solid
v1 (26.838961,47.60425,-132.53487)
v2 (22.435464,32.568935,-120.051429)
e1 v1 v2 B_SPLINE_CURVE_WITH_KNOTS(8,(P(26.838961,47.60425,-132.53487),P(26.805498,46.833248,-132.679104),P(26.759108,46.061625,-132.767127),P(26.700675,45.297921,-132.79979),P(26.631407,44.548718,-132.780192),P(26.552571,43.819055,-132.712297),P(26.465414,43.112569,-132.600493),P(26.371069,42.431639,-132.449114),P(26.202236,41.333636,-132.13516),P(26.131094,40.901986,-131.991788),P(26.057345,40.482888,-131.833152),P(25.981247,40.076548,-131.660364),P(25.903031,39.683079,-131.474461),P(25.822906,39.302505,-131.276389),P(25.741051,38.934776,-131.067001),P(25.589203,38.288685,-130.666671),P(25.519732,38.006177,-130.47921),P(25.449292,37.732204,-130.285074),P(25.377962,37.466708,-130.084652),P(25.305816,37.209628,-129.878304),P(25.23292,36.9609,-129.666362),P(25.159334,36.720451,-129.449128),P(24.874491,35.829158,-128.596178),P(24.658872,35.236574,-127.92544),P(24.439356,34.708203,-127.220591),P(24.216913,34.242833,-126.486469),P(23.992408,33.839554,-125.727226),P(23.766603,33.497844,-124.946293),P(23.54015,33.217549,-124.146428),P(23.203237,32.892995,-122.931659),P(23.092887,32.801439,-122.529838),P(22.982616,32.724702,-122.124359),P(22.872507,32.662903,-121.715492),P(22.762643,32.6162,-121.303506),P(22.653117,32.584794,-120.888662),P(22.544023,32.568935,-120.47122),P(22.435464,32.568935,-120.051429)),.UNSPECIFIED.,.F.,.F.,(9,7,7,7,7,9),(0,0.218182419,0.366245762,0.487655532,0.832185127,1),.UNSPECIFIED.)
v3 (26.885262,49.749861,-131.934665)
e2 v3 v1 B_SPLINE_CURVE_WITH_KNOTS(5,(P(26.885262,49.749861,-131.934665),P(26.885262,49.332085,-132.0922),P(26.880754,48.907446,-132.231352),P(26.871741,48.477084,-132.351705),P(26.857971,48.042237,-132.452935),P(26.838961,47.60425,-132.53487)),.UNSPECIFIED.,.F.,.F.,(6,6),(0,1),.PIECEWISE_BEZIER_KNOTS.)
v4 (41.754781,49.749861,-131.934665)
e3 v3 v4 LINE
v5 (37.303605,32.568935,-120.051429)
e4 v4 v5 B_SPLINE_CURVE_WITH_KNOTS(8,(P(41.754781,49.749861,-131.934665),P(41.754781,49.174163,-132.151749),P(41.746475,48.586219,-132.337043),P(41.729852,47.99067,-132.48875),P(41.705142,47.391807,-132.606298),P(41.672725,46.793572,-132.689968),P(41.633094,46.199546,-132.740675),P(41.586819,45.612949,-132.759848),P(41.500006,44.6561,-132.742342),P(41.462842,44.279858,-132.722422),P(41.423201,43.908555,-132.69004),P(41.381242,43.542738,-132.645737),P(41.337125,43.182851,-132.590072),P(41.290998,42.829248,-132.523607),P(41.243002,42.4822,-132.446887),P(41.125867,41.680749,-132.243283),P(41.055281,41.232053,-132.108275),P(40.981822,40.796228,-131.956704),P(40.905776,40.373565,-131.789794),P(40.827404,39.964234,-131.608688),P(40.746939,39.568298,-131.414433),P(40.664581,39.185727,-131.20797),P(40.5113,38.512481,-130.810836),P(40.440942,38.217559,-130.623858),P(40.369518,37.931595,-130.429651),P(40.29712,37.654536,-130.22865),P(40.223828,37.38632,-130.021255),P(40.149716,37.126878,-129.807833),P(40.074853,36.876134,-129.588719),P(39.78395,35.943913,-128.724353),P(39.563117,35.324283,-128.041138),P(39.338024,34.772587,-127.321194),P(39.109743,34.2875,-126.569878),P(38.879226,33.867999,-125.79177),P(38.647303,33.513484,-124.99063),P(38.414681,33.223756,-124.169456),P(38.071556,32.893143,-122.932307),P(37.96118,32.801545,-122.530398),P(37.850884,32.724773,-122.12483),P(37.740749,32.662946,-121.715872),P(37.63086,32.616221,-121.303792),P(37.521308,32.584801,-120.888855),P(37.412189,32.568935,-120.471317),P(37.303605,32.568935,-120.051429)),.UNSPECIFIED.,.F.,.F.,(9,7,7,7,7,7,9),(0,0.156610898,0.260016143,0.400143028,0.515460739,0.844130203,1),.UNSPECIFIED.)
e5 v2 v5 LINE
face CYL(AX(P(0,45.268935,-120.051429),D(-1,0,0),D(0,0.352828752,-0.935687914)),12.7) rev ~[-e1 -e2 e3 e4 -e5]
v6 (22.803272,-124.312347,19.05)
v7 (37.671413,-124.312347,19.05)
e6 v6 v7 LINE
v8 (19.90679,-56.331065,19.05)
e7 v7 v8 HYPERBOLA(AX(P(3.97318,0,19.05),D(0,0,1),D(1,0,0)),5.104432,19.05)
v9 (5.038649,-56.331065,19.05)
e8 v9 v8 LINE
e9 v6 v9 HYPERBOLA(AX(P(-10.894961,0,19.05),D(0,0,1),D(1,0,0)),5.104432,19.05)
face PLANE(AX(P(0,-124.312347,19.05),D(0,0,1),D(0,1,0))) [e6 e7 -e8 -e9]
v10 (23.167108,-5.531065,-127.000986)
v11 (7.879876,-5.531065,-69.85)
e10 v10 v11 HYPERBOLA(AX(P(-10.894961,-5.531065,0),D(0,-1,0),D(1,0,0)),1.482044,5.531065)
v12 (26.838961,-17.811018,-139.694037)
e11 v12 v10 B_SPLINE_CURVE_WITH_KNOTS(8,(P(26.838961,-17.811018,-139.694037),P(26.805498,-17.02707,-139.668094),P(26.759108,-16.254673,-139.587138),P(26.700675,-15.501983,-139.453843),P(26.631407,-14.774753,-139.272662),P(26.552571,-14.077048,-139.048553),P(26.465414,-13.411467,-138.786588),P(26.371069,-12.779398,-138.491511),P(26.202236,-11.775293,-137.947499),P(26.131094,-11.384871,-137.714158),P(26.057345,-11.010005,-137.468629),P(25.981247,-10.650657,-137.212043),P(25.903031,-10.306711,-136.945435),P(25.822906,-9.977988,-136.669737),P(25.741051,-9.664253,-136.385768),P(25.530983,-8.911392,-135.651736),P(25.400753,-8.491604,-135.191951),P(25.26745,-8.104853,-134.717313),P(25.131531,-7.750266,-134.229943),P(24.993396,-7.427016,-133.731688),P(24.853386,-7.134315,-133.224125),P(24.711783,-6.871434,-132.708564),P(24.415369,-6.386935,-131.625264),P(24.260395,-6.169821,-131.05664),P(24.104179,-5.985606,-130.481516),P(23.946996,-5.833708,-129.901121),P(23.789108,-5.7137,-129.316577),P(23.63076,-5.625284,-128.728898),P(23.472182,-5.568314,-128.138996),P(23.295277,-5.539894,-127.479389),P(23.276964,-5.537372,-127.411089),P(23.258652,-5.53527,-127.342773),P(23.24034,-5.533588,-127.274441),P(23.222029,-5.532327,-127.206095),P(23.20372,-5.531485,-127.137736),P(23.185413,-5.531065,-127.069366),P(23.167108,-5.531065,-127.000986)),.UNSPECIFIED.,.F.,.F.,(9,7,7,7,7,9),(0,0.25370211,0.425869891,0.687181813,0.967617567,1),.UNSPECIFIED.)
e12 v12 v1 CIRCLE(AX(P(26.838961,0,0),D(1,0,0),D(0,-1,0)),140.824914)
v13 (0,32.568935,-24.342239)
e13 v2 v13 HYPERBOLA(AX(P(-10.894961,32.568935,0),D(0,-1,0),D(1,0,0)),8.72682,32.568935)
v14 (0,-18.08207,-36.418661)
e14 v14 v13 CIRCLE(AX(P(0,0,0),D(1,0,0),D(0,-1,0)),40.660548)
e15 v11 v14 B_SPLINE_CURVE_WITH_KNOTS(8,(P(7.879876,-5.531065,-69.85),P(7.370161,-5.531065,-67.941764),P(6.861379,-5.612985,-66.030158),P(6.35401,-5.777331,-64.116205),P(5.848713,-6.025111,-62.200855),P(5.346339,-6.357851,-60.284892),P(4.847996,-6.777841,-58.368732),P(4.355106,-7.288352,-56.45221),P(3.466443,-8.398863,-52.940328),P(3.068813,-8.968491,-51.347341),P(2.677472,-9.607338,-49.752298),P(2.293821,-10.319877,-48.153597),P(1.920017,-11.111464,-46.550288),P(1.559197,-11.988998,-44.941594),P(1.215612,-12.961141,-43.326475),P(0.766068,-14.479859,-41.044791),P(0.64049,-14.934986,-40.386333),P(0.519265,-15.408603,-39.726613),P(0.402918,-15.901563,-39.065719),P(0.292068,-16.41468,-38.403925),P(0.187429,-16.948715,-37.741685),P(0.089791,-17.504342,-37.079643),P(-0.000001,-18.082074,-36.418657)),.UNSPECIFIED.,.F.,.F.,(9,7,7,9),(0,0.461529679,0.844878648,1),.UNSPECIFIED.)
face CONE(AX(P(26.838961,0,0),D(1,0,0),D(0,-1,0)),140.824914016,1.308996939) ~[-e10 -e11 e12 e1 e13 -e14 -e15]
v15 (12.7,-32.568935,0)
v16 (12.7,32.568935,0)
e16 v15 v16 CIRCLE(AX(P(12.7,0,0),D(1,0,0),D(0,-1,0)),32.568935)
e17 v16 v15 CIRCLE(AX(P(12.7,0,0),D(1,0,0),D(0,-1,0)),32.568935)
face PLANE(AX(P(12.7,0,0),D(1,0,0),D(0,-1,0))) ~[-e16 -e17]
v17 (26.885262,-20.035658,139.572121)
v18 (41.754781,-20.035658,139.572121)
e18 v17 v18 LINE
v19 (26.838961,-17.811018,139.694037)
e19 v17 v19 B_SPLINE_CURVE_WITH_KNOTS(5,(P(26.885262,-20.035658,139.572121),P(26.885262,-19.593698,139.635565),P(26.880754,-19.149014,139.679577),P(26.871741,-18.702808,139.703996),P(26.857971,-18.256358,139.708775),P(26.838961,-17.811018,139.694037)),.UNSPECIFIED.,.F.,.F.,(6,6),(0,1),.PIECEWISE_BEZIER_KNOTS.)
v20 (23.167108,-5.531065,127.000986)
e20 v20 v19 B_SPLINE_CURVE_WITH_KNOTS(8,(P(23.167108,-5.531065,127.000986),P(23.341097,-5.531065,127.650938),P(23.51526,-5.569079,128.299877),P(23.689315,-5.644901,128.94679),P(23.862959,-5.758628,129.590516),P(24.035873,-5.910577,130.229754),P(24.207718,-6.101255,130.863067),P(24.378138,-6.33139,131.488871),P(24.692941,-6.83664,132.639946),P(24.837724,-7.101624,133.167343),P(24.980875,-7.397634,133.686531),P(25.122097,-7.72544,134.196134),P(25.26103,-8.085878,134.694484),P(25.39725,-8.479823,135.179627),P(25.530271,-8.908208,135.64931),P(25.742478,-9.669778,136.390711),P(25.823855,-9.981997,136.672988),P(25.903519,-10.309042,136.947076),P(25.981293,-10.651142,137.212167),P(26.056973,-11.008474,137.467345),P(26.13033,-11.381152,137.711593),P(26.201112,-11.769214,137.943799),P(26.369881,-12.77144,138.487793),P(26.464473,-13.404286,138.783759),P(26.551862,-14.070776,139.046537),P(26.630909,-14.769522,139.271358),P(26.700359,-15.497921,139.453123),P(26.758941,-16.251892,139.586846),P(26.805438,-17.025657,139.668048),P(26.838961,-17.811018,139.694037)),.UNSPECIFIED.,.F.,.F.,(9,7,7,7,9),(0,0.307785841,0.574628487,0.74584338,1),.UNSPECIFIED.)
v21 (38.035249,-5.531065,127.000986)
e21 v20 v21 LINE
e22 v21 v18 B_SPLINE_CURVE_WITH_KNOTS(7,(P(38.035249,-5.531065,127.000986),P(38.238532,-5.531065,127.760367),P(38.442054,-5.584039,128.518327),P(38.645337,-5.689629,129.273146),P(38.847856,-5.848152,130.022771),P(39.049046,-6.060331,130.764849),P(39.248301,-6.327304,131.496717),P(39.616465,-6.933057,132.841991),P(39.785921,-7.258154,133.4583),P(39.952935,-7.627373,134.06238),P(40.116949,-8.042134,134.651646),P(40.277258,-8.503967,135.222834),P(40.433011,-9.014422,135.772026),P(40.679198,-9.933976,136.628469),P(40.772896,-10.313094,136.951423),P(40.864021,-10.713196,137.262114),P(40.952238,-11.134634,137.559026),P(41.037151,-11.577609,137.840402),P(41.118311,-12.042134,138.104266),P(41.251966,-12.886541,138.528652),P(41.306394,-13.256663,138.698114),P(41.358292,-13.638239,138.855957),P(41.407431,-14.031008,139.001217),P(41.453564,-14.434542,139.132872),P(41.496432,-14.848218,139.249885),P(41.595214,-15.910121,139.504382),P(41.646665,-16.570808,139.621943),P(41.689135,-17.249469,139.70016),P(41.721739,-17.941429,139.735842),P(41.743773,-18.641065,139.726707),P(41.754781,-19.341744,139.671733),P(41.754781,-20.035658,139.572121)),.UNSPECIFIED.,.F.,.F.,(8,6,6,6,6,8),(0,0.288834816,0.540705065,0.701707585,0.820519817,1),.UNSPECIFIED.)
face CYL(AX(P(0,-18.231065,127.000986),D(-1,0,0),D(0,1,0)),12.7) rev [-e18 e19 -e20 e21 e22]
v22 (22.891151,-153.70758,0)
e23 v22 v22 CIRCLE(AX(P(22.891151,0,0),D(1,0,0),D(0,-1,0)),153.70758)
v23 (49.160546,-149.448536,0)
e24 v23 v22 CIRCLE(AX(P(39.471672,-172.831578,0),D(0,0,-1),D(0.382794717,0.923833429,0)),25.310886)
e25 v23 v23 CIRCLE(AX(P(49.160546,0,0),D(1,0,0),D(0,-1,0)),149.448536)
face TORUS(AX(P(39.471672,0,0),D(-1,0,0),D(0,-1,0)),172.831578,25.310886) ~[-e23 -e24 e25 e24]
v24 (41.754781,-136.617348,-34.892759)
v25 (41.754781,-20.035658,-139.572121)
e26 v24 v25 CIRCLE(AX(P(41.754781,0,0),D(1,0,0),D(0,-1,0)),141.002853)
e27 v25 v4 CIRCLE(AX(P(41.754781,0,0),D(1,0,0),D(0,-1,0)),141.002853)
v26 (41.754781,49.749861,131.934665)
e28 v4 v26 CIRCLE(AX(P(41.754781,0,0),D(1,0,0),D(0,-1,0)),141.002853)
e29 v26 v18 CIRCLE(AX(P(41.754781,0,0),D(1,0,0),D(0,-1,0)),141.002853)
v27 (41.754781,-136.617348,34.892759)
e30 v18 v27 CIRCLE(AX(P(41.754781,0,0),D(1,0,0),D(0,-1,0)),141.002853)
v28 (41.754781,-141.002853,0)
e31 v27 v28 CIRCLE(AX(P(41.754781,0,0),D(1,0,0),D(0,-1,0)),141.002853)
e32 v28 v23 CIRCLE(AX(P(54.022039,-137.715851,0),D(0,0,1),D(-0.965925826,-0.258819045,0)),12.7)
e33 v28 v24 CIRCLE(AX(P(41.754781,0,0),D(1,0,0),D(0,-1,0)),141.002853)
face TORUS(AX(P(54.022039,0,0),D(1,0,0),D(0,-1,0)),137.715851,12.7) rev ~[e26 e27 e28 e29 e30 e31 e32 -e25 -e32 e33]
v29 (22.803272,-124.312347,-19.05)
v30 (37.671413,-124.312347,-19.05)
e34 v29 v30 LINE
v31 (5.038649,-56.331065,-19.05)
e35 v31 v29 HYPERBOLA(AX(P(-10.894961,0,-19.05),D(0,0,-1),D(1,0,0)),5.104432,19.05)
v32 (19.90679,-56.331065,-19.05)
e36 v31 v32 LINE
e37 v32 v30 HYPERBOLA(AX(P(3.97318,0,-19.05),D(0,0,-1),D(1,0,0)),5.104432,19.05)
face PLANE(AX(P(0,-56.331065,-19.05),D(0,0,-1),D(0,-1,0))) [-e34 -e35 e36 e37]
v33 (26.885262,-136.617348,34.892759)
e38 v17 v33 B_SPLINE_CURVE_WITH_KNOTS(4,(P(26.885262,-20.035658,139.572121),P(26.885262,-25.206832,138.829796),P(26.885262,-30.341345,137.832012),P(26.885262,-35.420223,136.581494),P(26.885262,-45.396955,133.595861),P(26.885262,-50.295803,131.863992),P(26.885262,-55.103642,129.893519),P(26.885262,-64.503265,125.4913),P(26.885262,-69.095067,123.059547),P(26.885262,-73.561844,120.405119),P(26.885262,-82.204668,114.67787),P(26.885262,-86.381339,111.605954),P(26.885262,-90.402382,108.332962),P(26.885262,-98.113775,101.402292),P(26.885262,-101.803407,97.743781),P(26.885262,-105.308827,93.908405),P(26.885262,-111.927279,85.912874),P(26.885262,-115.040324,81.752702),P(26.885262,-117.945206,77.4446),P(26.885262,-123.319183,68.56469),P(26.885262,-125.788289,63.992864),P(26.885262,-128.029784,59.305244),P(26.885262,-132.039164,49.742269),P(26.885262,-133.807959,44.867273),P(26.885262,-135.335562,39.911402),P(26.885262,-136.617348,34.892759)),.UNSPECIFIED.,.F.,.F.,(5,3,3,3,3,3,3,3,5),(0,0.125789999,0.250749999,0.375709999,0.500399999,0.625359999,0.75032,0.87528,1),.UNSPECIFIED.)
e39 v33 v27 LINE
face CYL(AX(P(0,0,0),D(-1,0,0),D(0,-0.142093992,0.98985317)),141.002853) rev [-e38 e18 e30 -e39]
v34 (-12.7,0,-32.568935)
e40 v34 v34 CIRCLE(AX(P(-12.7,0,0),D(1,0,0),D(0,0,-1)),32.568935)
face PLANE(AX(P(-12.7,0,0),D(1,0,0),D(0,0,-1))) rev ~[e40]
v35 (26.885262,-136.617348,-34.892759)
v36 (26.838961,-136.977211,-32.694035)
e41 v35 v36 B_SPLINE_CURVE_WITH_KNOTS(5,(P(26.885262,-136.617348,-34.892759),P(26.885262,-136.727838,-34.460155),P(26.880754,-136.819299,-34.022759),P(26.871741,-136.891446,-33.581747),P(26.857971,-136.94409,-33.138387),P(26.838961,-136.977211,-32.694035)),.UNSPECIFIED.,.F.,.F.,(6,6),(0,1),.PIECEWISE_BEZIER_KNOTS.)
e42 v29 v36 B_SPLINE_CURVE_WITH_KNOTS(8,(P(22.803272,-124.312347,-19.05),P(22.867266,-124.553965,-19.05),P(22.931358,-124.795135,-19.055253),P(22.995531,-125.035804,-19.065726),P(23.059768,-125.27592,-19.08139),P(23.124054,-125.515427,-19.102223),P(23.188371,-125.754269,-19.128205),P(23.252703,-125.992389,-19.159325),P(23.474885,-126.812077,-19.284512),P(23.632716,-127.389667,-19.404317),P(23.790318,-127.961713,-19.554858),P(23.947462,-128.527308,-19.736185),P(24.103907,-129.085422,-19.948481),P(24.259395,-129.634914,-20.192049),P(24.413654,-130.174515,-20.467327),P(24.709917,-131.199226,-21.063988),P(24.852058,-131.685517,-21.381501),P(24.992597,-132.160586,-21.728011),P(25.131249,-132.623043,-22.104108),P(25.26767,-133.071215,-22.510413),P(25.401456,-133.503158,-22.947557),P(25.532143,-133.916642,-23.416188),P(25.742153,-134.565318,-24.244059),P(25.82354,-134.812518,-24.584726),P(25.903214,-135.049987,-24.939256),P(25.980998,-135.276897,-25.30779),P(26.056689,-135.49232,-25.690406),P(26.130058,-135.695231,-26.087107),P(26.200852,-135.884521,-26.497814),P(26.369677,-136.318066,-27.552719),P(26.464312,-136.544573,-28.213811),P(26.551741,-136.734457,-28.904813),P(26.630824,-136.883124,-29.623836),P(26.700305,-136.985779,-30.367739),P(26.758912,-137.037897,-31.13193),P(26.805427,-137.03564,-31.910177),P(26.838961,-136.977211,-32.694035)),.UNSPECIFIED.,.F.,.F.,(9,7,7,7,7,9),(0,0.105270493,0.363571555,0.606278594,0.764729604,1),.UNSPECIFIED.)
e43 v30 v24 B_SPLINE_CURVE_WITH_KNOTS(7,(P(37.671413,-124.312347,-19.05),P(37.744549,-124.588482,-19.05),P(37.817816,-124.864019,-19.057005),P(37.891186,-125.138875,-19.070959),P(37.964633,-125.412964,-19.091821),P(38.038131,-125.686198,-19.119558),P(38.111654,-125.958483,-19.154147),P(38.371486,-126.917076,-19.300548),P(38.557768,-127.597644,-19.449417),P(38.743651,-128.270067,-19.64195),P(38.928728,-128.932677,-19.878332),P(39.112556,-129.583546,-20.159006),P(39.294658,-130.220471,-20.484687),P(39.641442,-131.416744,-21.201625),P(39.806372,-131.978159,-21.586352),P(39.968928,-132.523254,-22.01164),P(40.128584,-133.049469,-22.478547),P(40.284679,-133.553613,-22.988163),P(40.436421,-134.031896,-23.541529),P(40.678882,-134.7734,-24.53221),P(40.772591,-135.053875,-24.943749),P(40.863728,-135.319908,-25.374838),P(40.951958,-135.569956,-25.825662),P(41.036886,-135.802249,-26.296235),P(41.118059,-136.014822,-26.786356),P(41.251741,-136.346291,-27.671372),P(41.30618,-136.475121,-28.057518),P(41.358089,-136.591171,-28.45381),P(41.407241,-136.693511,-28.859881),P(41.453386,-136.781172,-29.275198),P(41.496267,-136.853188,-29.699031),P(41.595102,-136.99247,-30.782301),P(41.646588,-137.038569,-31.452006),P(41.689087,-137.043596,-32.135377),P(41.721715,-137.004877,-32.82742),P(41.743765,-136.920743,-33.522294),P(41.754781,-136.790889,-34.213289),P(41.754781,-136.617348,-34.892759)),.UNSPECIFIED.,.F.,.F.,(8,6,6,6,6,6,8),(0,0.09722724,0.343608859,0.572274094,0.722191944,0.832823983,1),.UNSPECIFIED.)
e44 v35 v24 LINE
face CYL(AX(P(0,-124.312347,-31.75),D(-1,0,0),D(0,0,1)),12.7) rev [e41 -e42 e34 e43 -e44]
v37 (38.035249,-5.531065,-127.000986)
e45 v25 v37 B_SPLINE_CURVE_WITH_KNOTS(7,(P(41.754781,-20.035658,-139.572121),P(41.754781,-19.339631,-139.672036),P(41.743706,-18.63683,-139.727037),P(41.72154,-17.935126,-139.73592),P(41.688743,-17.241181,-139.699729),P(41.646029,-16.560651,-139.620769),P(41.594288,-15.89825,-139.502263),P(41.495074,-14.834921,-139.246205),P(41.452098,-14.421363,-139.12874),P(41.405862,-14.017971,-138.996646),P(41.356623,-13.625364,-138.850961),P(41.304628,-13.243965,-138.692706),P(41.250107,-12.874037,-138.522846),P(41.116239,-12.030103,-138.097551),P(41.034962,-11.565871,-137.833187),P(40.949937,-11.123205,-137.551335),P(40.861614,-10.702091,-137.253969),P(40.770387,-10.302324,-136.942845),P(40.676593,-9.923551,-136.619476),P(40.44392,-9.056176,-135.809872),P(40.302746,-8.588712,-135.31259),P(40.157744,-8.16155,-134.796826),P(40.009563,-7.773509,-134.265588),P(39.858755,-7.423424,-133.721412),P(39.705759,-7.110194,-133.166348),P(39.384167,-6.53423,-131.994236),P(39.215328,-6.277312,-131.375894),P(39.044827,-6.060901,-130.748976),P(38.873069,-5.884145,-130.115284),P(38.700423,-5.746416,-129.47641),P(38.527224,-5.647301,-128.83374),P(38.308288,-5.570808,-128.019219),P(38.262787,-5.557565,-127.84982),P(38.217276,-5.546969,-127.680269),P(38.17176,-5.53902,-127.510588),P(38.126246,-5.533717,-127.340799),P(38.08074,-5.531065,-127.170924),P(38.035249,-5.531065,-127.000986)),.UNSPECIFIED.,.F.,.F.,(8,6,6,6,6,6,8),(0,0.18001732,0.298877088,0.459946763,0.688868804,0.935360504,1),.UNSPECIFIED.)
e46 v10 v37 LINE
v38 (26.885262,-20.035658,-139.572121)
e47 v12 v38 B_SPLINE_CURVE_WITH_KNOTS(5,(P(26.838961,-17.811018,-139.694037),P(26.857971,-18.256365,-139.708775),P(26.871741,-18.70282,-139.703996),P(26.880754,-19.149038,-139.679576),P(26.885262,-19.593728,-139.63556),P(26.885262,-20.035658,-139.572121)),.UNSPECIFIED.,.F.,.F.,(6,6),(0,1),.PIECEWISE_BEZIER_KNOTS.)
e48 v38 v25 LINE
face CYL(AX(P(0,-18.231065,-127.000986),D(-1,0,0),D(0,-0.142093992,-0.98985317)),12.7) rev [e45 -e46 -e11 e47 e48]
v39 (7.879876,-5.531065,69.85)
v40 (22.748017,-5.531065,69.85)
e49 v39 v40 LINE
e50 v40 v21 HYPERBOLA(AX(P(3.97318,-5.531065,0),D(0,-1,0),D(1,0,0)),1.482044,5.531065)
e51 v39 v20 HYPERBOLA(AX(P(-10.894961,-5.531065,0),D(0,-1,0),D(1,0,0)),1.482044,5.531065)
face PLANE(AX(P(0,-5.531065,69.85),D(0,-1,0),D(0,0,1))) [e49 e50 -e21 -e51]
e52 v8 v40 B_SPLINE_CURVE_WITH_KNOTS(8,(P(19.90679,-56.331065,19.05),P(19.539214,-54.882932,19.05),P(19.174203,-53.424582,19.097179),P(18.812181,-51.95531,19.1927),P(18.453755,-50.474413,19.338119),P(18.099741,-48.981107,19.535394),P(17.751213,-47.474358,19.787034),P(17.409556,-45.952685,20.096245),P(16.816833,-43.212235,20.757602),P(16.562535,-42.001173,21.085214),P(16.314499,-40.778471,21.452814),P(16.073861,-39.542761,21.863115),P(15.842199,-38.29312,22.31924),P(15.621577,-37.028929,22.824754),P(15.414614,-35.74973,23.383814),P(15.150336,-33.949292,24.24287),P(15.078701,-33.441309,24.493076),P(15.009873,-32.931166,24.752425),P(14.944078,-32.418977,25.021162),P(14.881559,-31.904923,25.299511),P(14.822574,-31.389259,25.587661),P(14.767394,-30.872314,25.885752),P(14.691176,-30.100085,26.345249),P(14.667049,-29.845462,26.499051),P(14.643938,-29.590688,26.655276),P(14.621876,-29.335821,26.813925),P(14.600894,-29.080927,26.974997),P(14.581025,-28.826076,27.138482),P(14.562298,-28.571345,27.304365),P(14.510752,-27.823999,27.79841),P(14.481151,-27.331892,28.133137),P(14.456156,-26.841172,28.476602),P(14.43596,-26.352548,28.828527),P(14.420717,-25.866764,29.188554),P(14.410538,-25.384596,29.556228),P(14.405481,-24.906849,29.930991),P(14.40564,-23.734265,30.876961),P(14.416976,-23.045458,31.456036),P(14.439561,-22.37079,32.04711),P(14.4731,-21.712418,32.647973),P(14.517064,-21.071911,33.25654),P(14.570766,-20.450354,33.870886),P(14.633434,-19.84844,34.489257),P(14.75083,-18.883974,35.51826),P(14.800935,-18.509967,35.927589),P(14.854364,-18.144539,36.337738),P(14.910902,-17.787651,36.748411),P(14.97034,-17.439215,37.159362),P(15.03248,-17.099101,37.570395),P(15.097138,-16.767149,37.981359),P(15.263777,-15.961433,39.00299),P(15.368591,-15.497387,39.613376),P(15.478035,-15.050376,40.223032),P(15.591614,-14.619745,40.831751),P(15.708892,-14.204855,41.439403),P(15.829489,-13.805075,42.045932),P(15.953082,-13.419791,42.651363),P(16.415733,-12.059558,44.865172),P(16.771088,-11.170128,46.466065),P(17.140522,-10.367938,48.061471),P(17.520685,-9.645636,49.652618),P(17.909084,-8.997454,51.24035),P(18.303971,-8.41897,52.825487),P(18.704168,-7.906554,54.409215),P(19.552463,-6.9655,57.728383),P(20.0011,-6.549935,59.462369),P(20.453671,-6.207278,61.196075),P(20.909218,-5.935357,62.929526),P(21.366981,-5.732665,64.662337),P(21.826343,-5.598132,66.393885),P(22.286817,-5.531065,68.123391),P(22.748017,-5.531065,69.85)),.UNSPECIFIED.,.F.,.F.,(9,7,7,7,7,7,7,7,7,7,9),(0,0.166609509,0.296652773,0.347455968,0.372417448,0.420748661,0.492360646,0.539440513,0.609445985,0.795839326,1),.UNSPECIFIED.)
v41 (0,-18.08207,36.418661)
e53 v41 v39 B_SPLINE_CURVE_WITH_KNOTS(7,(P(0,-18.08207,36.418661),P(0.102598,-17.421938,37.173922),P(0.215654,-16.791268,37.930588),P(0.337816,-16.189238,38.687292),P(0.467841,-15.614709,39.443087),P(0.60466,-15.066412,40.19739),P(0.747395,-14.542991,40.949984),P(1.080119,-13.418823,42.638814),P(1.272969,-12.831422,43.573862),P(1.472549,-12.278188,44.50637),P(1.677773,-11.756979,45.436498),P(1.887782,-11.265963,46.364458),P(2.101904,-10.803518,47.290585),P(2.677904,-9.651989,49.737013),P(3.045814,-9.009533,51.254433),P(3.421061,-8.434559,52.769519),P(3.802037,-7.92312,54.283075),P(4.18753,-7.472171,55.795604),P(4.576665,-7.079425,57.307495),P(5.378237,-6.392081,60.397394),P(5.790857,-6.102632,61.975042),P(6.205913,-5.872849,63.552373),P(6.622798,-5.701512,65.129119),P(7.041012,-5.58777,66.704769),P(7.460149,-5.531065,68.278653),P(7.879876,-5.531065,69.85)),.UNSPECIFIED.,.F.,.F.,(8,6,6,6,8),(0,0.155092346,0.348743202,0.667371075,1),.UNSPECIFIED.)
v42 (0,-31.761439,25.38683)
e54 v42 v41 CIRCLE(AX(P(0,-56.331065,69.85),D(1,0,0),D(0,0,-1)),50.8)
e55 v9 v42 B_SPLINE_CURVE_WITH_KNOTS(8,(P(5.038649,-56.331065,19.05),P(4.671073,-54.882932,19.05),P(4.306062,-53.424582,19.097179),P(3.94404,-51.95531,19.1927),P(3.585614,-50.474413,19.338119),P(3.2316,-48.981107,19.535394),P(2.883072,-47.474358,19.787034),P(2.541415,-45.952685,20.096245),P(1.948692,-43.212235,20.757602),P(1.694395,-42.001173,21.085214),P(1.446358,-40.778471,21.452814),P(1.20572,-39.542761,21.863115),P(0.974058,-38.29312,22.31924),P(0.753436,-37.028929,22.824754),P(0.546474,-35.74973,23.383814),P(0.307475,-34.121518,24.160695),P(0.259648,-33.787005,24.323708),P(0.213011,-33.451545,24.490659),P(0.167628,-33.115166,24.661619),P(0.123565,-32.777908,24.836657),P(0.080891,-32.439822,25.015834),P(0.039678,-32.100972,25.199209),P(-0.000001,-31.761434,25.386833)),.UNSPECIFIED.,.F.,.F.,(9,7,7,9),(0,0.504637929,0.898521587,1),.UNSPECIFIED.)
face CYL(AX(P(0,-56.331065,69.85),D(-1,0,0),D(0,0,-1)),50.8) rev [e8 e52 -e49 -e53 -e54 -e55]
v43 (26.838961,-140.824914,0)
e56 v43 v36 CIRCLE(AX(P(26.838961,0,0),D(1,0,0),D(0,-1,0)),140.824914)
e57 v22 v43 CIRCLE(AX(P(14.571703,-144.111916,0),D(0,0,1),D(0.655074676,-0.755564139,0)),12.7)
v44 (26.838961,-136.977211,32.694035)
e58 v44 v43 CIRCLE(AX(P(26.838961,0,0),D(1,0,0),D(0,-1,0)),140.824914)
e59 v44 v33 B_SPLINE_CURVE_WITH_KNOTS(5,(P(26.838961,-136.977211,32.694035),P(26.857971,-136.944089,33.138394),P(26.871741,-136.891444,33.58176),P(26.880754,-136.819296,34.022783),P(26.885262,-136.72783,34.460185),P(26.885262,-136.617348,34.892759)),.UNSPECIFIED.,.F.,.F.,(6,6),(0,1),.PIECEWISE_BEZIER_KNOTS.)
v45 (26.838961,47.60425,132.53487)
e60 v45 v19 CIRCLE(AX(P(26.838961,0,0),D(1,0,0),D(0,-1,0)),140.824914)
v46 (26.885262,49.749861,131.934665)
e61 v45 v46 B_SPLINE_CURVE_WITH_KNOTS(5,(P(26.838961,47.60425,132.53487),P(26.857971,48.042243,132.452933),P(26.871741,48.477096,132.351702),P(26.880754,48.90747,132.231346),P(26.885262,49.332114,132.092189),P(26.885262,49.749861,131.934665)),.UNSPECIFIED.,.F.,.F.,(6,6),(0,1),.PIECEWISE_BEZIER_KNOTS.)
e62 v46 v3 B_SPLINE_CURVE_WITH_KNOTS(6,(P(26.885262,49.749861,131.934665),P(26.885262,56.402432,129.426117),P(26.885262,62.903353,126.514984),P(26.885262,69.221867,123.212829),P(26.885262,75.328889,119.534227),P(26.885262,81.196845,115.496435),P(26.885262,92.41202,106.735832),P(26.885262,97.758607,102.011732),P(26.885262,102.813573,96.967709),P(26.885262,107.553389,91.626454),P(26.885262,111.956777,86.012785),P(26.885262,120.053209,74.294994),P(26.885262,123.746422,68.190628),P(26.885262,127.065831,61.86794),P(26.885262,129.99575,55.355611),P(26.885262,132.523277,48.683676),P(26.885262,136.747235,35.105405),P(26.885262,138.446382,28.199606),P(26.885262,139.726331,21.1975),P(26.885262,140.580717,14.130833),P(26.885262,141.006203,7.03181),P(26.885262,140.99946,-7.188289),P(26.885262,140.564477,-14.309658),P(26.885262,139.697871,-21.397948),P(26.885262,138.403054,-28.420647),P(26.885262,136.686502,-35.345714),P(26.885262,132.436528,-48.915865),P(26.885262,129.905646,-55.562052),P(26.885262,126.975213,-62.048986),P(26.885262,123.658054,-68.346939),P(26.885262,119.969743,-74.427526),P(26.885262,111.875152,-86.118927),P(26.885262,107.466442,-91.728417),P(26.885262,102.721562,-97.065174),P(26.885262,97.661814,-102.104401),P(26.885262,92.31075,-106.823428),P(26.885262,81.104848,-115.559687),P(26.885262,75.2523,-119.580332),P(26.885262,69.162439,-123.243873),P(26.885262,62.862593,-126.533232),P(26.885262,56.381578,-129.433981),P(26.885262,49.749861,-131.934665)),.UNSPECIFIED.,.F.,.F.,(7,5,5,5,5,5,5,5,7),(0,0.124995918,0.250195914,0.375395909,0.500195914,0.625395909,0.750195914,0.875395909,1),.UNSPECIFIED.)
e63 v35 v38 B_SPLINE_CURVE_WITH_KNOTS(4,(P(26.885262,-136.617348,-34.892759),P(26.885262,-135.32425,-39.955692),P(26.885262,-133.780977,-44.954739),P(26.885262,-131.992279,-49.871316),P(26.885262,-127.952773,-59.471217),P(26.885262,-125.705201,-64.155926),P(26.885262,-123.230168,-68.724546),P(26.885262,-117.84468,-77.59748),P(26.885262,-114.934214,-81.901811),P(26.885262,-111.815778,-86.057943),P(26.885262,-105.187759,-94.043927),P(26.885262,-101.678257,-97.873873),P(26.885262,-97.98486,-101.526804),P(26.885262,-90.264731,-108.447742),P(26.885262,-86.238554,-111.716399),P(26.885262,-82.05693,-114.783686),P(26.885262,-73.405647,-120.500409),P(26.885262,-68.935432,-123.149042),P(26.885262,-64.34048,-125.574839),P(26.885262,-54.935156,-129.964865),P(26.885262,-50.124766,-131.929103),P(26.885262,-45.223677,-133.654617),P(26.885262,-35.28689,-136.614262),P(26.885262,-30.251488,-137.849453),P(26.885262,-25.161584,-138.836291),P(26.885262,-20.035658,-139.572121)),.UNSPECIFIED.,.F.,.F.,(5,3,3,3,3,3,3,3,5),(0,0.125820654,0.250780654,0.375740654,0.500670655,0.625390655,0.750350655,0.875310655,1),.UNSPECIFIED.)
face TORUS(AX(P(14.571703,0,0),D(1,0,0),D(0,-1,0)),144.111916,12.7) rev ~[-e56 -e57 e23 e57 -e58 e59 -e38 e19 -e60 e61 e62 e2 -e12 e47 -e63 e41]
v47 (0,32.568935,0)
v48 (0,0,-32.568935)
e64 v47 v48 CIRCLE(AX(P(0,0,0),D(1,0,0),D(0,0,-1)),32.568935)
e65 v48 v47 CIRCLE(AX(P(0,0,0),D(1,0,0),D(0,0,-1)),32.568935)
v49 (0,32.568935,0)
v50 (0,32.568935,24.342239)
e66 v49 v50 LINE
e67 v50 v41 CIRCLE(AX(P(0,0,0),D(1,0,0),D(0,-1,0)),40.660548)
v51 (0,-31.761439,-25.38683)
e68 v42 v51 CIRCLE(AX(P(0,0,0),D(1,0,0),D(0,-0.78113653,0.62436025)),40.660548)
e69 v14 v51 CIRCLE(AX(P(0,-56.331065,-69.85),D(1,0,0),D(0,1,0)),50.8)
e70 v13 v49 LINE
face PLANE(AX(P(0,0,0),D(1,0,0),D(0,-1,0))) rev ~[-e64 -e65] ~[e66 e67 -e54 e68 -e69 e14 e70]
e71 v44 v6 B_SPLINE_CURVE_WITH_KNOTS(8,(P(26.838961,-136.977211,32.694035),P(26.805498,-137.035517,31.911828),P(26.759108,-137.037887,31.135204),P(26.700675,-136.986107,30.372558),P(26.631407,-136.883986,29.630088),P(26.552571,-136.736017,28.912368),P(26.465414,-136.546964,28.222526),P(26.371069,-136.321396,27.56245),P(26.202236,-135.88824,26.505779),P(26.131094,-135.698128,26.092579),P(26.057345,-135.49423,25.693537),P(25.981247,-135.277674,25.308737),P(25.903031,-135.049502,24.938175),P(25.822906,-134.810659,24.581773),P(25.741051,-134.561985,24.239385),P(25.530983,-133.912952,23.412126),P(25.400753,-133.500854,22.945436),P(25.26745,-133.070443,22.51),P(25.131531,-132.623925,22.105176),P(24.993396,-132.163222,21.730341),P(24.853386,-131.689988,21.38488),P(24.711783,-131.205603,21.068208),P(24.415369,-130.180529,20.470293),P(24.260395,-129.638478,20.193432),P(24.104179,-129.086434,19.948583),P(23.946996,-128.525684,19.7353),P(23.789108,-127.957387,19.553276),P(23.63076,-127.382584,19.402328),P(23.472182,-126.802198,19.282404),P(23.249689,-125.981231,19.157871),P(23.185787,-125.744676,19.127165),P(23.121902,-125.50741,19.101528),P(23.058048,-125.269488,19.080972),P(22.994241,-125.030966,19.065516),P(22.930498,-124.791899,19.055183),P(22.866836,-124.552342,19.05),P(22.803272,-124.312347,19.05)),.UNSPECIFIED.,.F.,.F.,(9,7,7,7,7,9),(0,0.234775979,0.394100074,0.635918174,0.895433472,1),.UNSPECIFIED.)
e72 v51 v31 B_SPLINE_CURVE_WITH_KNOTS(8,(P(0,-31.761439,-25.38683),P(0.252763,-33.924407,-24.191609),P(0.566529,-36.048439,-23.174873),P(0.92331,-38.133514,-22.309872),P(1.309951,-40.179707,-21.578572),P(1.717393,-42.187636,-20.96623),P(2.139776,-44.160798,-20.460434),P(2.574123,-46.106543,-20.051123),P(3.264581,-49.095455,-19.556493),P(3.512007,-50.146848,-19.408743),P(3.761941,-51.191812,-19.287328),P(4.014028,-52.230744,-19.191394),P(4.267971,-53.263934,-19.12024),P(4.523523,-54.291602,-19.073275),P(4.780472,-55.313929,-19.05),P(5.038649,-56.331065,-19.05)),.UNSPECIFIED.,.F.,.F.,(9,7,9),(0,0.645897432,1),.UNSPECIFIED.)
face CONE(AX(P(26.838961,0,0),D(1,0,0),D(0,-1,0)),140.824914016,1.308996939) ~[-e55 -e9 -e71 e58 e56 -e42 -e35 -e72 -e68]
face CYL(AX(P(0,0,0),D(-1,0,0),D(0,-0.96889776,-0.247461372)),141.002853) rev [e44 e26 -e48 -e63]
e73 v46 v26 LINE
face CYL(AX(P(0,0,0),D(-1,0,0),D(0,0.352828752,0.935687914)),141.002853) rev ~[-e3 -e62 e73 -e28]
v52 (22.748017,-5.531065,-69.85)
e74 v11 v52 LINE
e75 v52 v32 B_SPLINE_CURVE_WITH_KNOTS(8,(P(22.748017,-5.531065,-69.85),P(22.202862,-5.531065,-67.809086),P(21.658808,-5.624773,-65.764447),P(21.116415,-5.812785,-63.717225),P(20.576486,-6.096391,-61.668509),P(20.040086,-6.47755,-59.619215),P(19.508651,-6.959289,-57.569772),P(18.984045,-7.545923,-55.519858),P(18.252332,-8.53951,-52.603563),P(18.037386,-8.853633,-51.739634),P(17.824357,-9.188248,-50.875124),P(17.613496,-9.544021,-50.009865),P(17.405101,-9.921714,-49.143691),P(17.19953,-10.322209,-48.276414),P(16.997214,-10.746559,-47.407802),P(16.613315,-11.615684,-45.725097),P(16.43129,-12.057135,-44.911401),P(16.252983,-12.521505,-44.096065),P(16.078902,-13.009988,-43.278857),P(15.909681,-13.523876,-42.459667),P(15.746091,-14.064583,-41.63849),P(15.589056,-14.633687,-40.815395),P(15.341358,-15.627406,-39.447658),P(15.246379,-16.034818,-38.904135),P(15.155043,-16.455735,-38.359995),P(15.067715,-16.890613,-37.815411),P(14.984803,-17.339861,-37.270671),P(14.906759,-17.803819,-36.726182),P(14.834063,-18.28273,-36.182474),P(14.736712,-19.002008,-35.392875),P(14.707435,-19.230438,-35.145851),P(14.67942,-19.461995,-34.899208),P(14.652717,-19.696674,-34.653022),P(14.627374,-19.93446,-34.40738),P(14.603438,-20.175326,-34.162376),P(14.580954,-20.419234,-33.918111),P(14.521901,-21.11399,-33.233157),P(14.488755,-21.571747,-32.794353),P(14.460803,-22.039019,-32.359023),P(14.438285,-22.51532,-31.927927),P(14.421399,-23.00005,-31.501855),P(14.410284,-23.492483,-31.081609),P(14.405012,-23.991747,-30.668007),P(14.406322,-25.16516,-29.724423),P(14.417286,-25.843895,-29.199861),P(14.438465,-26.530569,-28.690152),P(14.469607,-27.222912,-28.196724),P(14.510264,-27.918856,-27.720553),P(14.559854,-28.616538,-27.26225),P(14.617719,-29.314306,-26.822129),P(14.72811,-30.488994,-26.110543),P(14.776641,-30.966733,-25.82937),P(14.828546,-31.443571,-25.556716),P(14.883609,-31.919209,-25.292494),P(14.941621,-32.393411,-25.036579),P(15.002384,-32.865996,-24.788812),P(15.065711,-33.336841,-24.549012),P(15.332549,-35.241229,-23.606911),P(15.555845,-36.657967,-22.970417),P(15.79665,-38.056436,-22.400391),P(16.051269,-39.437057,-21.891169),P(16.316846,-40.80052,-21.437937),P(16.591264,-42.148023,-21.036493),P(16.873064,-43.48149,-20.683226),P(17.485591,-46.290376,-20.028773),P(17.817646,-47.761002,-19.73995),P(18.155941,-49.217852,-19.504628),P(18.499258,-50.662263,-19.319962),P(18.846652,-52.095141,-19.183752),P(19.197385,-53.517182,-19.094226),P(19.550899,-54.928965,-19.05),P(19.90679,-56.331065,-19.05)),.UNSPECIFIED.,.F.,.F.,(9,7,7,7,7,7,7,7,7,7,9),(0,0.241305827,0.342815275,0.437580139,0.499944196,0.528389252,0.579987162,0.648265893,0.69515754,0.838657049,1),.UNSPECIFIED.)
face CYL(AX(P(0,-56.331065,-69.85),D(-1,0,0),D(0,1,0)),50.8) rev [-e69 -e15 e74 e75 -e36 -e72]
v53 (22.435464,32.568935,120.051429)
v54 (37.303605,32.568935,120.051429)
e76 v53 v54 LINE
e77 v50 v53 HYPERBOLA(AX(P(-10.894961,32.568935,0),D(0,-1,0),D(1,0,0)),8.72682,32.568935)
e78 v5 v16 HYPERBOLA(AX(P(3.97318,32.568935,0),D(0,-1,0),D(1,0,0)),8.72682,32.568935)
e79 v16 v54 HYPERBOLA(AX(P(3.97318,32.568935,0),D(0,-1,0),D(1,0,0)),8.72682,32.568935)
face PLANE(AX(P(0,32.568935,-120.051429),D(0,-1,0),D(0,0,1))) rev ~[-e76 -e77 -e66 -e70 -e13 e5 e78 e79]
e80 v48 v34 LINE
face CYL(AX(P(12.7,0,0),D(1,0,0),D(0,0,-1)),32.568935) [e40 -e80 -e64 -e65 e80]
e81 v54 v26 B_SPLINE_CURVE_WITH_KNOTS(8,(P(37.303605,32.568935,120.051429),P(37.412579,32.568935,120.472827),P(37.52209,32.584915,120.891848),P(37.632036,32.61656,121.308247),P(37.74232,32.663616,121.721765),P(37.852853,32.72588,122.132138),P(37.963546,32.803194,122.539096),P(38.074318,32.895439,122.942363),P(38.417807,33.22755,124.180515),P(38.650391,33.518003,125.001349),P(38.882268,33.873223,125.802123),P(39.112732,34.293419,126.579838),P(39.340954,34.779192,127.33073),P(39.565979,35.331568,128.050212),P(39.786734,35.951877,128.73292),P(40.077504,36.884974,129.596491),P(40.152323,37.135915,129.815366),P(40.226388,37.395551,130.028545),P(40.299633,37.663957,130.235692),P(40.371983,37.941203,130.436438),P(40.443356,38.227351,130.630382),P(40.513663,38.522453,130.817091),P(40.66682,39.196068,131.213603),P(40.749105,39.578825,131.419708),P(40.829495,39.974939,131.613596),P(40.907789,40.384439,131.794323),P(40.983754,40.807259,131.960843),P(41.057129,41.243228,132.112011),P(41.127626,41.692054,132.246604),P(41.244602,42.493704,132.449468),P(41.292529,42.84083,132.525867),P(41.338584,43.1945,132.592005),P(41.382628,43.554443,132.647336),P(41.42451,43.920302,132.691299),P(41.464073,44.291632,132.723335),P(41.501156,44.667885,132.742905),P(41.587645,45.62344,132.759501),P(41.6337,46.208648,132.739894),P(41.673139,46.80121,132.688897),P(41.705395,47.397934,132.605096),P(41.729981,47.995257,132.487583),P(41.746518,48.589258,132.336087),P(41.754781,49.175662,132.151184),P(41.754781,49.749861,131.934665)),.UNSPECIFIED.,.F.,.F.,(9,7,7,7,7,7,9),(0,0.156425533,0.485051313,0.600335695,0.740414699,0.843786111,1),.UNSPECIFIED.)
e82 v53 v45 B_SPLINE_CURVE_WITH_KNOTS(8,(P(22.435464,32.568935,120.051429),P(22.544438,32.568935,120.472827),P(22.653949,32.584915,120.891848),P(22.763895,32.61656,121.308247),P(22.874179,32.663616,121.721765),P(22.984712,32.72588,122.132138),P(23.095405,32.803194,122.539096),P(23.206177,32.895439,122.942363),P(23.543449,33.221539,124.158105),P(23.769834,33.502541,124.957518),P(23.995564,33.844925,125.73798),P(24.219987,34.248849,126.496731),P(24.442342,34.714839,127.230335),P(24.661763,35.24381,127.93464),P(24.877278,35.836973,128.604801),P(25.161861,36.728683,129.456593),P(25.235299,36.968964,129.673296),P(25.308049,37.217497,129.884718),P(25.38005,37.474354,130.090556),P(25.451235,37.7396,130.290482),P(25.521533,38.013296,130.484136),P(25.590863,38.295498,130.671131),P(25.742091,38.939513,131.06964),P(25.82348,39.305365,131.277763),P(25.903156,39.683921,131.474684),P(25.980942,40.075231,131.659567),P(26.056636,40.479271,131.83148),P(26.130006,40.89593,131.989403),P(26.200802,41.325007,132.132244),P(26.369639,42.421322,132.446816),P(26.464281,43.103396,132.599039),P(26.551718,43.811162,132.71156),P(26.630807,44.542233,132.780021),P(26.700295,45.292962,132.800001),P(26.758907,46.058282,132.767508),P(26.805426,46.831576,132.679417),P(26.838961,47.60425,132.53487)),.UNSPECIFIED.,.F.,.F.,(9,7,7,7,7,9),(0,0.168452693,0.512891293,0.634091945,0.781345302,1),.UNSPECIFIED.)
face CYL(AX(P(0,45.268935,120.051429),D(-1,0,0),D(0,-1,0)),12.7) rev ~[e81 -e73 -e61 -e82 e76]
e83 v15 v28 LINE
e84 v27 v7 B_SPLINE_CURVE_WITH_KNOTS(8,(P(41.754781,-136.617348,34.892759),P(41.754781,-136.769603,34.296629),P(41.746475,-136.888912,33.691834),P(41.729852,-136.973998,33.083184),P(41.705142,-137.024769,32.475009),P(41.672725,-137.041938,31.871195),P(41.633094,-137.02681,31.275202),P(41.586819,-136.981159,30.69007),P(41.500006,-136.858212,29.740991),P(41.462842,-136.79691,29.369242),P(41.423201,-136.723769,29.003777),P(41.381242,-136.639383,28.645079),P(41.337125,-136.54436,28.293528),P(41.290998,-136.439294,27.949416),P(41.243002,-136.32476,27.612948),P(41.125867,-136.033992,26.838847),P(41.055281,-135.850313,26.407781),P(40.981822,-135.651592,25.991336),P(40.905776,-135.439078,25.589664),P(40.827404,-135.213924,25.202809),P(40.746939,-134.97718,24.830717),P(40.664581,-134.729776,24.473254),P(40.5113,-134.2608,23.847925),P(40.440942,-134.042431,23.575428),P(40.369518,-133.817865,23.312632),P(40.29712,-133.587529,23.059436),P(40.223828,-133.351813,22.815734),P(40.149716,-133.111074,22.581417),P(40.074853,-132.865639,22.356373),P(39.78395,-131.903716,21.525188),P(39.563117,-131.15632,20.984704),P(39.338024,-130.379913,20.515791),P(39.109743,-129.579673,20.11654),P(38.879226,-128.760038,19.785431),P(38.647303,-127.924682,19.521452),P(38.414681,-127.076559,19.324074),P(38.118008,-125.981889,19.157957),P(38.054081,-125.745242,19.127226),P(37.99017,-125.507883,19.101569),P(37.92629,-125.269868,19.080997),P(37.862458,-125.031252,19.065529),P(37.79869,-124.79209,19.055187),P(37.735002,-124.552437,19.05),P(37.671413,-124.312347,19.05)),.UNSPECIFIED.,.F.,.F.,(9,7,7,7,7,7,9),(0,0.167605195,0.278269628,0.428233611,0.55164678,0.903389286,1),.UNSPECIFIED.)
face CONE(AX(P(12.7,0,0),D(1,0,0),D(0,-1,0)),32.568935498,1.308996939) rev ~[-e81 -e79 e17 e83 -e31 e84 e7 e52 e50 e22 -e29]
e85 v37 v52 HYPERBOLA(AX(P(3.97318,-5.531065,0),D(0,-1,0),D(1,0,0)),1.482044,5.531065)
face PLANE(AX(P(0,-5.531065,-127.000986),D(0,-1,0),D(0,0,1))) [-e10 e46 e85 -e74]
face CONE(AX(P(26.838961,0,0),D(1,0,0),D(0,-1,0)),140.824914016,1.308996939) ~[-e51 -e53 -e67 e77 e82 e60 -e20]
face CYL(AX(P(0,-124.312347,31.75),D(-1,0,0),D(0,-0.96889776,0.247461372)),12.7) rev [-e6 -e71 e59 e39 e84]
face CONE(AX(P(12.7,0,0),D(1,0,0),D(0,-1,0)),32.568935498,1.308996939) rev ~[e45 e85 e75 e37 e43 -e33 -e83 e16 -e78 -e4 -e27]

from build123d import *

# Parameters (mm, degrees)
SKETCH3_R           = 32.568935498
BOSS_EXTRUDE1_DEPTH = 25.4
CUT_EXTRUDE1_DEPTH  = 65.782558538


with BuildPart() as part:
    # Sketch1 → Revolve1 (revolve)
    with BuildSketch(Plane.XY):
        with BuildLine():
            Line((0, 0), (12.7, 0))
            Line((12.7, 0), (12.7, -32.568935498))
            Line((12.7, -32.568935498), (41.754780606, -141.002852921))
            ThreePointArc((41.754780606, -141.002852921), (44.473168727, -146.088967801), (49.16054569, -149.448535595))
            ThreePointArc((49.16054569, -149.448535595), (43.522420897, -197.816221792), (22.891151455, -153.707580457))
            ThreePointArc((22.891151455, -153.707580457), (26.714350783, -147.832951554), (26.83896106, -140.824914016))
            Line((26.83896106, -140.824914016), (0, -40.660547717))
            Line((0, -40.660547717), (0, 0))
        make_face()
    revolve(axis=Axis((0, 0, 0), (1, 0, 0)))

    # Sketch3 → Boss-Extrude1 (add)
    with BuildSketch(Plane(origin=(12.7, 0, 0), x_dir=(0, 0, -1), z_dir=(1, 0, 0))):
        Circle(SKETCH3_R)
    extrude(amount=-BOSS_EXTRUDE1_DEPTH)

    # Sketch4 → Cut-Extrude1 (cut, through all)
    with BuildSketch(Plane(origin=(0, 0, 0), x_dir=(0, 0, -1), z_dir=(1, 0, 0))):
        with BuildLine():
            ThreePointArc((-131.934665259, 49.749860651), (0, 141.002852921), (131.934665259, 49.749860651))
            ThreePointArc((131.934665259, 49.749860651), (130.496469432, 38.044592948), (120.051428757, 32.568935498))
            Line((120.051428757, 32.568935498), (0, 32.568935498))
            Line((0, 32.568935498), (-120.051428757, 32.568935498))
            ThreePointArc((-120.051428757, 32.568935498), (-130.496469432, 38.044592948), (-131.934665259, 49.749860651))
        make_face()
        with BuildLine():
            ThreePointArc((-139.5721209, -20.035658195), (-104.915781638, -94.204475982), (-34.892759423, -136.617348355))
            ThreePointArc((-34.892759423, -136.617348355), (-23.959719025, -134.342377826), (-19.05, -124.312346803))
            Line((-19.05, -124.312346803), (-19.05, -56.331064502))
            ThreePointArc((-19.05, -56.331064502), (-33.928975516, -20.410040018), (-69.85, -5.531064502))
            Line((-69.85, -5.531064502), (-127.000985645, -5.531064502))
            ThreePointArc((-127.000985645, -5.531064502), (-136.598077389, -9.913262506), (-139.5721209, -20.035658195))
        make_face()
        with BuildLine():
            ThreePointArc((34.892759423, -136.617348355), (104.915781638, -94.204475982), (139.5721209, -20.035658195))
            ThreePointArc((139.5721209, -20.035658195), (136.598077389, -9.913262506), (127.000985645, -5.531064502))
            Line((127.000985645, -5.531064502), (69.85, -5.531064502))
            ThreePointArc((69.85, -5.531064502), (33.928975516, -20.410040018), (19.05, -56.331064502))
            Line((19.05, -56.331064502), (19.05, -124.312346803))
            ThreePointArc((19.05, -124.312346803), (23.959719025, -134.342377826), (34.892759423, -136.617348355))
        make_face()
    extrude(amount=CUT_EXTRUDE1_DEPTH, mode=Mode.SUBTRACT)


solid = part.part
